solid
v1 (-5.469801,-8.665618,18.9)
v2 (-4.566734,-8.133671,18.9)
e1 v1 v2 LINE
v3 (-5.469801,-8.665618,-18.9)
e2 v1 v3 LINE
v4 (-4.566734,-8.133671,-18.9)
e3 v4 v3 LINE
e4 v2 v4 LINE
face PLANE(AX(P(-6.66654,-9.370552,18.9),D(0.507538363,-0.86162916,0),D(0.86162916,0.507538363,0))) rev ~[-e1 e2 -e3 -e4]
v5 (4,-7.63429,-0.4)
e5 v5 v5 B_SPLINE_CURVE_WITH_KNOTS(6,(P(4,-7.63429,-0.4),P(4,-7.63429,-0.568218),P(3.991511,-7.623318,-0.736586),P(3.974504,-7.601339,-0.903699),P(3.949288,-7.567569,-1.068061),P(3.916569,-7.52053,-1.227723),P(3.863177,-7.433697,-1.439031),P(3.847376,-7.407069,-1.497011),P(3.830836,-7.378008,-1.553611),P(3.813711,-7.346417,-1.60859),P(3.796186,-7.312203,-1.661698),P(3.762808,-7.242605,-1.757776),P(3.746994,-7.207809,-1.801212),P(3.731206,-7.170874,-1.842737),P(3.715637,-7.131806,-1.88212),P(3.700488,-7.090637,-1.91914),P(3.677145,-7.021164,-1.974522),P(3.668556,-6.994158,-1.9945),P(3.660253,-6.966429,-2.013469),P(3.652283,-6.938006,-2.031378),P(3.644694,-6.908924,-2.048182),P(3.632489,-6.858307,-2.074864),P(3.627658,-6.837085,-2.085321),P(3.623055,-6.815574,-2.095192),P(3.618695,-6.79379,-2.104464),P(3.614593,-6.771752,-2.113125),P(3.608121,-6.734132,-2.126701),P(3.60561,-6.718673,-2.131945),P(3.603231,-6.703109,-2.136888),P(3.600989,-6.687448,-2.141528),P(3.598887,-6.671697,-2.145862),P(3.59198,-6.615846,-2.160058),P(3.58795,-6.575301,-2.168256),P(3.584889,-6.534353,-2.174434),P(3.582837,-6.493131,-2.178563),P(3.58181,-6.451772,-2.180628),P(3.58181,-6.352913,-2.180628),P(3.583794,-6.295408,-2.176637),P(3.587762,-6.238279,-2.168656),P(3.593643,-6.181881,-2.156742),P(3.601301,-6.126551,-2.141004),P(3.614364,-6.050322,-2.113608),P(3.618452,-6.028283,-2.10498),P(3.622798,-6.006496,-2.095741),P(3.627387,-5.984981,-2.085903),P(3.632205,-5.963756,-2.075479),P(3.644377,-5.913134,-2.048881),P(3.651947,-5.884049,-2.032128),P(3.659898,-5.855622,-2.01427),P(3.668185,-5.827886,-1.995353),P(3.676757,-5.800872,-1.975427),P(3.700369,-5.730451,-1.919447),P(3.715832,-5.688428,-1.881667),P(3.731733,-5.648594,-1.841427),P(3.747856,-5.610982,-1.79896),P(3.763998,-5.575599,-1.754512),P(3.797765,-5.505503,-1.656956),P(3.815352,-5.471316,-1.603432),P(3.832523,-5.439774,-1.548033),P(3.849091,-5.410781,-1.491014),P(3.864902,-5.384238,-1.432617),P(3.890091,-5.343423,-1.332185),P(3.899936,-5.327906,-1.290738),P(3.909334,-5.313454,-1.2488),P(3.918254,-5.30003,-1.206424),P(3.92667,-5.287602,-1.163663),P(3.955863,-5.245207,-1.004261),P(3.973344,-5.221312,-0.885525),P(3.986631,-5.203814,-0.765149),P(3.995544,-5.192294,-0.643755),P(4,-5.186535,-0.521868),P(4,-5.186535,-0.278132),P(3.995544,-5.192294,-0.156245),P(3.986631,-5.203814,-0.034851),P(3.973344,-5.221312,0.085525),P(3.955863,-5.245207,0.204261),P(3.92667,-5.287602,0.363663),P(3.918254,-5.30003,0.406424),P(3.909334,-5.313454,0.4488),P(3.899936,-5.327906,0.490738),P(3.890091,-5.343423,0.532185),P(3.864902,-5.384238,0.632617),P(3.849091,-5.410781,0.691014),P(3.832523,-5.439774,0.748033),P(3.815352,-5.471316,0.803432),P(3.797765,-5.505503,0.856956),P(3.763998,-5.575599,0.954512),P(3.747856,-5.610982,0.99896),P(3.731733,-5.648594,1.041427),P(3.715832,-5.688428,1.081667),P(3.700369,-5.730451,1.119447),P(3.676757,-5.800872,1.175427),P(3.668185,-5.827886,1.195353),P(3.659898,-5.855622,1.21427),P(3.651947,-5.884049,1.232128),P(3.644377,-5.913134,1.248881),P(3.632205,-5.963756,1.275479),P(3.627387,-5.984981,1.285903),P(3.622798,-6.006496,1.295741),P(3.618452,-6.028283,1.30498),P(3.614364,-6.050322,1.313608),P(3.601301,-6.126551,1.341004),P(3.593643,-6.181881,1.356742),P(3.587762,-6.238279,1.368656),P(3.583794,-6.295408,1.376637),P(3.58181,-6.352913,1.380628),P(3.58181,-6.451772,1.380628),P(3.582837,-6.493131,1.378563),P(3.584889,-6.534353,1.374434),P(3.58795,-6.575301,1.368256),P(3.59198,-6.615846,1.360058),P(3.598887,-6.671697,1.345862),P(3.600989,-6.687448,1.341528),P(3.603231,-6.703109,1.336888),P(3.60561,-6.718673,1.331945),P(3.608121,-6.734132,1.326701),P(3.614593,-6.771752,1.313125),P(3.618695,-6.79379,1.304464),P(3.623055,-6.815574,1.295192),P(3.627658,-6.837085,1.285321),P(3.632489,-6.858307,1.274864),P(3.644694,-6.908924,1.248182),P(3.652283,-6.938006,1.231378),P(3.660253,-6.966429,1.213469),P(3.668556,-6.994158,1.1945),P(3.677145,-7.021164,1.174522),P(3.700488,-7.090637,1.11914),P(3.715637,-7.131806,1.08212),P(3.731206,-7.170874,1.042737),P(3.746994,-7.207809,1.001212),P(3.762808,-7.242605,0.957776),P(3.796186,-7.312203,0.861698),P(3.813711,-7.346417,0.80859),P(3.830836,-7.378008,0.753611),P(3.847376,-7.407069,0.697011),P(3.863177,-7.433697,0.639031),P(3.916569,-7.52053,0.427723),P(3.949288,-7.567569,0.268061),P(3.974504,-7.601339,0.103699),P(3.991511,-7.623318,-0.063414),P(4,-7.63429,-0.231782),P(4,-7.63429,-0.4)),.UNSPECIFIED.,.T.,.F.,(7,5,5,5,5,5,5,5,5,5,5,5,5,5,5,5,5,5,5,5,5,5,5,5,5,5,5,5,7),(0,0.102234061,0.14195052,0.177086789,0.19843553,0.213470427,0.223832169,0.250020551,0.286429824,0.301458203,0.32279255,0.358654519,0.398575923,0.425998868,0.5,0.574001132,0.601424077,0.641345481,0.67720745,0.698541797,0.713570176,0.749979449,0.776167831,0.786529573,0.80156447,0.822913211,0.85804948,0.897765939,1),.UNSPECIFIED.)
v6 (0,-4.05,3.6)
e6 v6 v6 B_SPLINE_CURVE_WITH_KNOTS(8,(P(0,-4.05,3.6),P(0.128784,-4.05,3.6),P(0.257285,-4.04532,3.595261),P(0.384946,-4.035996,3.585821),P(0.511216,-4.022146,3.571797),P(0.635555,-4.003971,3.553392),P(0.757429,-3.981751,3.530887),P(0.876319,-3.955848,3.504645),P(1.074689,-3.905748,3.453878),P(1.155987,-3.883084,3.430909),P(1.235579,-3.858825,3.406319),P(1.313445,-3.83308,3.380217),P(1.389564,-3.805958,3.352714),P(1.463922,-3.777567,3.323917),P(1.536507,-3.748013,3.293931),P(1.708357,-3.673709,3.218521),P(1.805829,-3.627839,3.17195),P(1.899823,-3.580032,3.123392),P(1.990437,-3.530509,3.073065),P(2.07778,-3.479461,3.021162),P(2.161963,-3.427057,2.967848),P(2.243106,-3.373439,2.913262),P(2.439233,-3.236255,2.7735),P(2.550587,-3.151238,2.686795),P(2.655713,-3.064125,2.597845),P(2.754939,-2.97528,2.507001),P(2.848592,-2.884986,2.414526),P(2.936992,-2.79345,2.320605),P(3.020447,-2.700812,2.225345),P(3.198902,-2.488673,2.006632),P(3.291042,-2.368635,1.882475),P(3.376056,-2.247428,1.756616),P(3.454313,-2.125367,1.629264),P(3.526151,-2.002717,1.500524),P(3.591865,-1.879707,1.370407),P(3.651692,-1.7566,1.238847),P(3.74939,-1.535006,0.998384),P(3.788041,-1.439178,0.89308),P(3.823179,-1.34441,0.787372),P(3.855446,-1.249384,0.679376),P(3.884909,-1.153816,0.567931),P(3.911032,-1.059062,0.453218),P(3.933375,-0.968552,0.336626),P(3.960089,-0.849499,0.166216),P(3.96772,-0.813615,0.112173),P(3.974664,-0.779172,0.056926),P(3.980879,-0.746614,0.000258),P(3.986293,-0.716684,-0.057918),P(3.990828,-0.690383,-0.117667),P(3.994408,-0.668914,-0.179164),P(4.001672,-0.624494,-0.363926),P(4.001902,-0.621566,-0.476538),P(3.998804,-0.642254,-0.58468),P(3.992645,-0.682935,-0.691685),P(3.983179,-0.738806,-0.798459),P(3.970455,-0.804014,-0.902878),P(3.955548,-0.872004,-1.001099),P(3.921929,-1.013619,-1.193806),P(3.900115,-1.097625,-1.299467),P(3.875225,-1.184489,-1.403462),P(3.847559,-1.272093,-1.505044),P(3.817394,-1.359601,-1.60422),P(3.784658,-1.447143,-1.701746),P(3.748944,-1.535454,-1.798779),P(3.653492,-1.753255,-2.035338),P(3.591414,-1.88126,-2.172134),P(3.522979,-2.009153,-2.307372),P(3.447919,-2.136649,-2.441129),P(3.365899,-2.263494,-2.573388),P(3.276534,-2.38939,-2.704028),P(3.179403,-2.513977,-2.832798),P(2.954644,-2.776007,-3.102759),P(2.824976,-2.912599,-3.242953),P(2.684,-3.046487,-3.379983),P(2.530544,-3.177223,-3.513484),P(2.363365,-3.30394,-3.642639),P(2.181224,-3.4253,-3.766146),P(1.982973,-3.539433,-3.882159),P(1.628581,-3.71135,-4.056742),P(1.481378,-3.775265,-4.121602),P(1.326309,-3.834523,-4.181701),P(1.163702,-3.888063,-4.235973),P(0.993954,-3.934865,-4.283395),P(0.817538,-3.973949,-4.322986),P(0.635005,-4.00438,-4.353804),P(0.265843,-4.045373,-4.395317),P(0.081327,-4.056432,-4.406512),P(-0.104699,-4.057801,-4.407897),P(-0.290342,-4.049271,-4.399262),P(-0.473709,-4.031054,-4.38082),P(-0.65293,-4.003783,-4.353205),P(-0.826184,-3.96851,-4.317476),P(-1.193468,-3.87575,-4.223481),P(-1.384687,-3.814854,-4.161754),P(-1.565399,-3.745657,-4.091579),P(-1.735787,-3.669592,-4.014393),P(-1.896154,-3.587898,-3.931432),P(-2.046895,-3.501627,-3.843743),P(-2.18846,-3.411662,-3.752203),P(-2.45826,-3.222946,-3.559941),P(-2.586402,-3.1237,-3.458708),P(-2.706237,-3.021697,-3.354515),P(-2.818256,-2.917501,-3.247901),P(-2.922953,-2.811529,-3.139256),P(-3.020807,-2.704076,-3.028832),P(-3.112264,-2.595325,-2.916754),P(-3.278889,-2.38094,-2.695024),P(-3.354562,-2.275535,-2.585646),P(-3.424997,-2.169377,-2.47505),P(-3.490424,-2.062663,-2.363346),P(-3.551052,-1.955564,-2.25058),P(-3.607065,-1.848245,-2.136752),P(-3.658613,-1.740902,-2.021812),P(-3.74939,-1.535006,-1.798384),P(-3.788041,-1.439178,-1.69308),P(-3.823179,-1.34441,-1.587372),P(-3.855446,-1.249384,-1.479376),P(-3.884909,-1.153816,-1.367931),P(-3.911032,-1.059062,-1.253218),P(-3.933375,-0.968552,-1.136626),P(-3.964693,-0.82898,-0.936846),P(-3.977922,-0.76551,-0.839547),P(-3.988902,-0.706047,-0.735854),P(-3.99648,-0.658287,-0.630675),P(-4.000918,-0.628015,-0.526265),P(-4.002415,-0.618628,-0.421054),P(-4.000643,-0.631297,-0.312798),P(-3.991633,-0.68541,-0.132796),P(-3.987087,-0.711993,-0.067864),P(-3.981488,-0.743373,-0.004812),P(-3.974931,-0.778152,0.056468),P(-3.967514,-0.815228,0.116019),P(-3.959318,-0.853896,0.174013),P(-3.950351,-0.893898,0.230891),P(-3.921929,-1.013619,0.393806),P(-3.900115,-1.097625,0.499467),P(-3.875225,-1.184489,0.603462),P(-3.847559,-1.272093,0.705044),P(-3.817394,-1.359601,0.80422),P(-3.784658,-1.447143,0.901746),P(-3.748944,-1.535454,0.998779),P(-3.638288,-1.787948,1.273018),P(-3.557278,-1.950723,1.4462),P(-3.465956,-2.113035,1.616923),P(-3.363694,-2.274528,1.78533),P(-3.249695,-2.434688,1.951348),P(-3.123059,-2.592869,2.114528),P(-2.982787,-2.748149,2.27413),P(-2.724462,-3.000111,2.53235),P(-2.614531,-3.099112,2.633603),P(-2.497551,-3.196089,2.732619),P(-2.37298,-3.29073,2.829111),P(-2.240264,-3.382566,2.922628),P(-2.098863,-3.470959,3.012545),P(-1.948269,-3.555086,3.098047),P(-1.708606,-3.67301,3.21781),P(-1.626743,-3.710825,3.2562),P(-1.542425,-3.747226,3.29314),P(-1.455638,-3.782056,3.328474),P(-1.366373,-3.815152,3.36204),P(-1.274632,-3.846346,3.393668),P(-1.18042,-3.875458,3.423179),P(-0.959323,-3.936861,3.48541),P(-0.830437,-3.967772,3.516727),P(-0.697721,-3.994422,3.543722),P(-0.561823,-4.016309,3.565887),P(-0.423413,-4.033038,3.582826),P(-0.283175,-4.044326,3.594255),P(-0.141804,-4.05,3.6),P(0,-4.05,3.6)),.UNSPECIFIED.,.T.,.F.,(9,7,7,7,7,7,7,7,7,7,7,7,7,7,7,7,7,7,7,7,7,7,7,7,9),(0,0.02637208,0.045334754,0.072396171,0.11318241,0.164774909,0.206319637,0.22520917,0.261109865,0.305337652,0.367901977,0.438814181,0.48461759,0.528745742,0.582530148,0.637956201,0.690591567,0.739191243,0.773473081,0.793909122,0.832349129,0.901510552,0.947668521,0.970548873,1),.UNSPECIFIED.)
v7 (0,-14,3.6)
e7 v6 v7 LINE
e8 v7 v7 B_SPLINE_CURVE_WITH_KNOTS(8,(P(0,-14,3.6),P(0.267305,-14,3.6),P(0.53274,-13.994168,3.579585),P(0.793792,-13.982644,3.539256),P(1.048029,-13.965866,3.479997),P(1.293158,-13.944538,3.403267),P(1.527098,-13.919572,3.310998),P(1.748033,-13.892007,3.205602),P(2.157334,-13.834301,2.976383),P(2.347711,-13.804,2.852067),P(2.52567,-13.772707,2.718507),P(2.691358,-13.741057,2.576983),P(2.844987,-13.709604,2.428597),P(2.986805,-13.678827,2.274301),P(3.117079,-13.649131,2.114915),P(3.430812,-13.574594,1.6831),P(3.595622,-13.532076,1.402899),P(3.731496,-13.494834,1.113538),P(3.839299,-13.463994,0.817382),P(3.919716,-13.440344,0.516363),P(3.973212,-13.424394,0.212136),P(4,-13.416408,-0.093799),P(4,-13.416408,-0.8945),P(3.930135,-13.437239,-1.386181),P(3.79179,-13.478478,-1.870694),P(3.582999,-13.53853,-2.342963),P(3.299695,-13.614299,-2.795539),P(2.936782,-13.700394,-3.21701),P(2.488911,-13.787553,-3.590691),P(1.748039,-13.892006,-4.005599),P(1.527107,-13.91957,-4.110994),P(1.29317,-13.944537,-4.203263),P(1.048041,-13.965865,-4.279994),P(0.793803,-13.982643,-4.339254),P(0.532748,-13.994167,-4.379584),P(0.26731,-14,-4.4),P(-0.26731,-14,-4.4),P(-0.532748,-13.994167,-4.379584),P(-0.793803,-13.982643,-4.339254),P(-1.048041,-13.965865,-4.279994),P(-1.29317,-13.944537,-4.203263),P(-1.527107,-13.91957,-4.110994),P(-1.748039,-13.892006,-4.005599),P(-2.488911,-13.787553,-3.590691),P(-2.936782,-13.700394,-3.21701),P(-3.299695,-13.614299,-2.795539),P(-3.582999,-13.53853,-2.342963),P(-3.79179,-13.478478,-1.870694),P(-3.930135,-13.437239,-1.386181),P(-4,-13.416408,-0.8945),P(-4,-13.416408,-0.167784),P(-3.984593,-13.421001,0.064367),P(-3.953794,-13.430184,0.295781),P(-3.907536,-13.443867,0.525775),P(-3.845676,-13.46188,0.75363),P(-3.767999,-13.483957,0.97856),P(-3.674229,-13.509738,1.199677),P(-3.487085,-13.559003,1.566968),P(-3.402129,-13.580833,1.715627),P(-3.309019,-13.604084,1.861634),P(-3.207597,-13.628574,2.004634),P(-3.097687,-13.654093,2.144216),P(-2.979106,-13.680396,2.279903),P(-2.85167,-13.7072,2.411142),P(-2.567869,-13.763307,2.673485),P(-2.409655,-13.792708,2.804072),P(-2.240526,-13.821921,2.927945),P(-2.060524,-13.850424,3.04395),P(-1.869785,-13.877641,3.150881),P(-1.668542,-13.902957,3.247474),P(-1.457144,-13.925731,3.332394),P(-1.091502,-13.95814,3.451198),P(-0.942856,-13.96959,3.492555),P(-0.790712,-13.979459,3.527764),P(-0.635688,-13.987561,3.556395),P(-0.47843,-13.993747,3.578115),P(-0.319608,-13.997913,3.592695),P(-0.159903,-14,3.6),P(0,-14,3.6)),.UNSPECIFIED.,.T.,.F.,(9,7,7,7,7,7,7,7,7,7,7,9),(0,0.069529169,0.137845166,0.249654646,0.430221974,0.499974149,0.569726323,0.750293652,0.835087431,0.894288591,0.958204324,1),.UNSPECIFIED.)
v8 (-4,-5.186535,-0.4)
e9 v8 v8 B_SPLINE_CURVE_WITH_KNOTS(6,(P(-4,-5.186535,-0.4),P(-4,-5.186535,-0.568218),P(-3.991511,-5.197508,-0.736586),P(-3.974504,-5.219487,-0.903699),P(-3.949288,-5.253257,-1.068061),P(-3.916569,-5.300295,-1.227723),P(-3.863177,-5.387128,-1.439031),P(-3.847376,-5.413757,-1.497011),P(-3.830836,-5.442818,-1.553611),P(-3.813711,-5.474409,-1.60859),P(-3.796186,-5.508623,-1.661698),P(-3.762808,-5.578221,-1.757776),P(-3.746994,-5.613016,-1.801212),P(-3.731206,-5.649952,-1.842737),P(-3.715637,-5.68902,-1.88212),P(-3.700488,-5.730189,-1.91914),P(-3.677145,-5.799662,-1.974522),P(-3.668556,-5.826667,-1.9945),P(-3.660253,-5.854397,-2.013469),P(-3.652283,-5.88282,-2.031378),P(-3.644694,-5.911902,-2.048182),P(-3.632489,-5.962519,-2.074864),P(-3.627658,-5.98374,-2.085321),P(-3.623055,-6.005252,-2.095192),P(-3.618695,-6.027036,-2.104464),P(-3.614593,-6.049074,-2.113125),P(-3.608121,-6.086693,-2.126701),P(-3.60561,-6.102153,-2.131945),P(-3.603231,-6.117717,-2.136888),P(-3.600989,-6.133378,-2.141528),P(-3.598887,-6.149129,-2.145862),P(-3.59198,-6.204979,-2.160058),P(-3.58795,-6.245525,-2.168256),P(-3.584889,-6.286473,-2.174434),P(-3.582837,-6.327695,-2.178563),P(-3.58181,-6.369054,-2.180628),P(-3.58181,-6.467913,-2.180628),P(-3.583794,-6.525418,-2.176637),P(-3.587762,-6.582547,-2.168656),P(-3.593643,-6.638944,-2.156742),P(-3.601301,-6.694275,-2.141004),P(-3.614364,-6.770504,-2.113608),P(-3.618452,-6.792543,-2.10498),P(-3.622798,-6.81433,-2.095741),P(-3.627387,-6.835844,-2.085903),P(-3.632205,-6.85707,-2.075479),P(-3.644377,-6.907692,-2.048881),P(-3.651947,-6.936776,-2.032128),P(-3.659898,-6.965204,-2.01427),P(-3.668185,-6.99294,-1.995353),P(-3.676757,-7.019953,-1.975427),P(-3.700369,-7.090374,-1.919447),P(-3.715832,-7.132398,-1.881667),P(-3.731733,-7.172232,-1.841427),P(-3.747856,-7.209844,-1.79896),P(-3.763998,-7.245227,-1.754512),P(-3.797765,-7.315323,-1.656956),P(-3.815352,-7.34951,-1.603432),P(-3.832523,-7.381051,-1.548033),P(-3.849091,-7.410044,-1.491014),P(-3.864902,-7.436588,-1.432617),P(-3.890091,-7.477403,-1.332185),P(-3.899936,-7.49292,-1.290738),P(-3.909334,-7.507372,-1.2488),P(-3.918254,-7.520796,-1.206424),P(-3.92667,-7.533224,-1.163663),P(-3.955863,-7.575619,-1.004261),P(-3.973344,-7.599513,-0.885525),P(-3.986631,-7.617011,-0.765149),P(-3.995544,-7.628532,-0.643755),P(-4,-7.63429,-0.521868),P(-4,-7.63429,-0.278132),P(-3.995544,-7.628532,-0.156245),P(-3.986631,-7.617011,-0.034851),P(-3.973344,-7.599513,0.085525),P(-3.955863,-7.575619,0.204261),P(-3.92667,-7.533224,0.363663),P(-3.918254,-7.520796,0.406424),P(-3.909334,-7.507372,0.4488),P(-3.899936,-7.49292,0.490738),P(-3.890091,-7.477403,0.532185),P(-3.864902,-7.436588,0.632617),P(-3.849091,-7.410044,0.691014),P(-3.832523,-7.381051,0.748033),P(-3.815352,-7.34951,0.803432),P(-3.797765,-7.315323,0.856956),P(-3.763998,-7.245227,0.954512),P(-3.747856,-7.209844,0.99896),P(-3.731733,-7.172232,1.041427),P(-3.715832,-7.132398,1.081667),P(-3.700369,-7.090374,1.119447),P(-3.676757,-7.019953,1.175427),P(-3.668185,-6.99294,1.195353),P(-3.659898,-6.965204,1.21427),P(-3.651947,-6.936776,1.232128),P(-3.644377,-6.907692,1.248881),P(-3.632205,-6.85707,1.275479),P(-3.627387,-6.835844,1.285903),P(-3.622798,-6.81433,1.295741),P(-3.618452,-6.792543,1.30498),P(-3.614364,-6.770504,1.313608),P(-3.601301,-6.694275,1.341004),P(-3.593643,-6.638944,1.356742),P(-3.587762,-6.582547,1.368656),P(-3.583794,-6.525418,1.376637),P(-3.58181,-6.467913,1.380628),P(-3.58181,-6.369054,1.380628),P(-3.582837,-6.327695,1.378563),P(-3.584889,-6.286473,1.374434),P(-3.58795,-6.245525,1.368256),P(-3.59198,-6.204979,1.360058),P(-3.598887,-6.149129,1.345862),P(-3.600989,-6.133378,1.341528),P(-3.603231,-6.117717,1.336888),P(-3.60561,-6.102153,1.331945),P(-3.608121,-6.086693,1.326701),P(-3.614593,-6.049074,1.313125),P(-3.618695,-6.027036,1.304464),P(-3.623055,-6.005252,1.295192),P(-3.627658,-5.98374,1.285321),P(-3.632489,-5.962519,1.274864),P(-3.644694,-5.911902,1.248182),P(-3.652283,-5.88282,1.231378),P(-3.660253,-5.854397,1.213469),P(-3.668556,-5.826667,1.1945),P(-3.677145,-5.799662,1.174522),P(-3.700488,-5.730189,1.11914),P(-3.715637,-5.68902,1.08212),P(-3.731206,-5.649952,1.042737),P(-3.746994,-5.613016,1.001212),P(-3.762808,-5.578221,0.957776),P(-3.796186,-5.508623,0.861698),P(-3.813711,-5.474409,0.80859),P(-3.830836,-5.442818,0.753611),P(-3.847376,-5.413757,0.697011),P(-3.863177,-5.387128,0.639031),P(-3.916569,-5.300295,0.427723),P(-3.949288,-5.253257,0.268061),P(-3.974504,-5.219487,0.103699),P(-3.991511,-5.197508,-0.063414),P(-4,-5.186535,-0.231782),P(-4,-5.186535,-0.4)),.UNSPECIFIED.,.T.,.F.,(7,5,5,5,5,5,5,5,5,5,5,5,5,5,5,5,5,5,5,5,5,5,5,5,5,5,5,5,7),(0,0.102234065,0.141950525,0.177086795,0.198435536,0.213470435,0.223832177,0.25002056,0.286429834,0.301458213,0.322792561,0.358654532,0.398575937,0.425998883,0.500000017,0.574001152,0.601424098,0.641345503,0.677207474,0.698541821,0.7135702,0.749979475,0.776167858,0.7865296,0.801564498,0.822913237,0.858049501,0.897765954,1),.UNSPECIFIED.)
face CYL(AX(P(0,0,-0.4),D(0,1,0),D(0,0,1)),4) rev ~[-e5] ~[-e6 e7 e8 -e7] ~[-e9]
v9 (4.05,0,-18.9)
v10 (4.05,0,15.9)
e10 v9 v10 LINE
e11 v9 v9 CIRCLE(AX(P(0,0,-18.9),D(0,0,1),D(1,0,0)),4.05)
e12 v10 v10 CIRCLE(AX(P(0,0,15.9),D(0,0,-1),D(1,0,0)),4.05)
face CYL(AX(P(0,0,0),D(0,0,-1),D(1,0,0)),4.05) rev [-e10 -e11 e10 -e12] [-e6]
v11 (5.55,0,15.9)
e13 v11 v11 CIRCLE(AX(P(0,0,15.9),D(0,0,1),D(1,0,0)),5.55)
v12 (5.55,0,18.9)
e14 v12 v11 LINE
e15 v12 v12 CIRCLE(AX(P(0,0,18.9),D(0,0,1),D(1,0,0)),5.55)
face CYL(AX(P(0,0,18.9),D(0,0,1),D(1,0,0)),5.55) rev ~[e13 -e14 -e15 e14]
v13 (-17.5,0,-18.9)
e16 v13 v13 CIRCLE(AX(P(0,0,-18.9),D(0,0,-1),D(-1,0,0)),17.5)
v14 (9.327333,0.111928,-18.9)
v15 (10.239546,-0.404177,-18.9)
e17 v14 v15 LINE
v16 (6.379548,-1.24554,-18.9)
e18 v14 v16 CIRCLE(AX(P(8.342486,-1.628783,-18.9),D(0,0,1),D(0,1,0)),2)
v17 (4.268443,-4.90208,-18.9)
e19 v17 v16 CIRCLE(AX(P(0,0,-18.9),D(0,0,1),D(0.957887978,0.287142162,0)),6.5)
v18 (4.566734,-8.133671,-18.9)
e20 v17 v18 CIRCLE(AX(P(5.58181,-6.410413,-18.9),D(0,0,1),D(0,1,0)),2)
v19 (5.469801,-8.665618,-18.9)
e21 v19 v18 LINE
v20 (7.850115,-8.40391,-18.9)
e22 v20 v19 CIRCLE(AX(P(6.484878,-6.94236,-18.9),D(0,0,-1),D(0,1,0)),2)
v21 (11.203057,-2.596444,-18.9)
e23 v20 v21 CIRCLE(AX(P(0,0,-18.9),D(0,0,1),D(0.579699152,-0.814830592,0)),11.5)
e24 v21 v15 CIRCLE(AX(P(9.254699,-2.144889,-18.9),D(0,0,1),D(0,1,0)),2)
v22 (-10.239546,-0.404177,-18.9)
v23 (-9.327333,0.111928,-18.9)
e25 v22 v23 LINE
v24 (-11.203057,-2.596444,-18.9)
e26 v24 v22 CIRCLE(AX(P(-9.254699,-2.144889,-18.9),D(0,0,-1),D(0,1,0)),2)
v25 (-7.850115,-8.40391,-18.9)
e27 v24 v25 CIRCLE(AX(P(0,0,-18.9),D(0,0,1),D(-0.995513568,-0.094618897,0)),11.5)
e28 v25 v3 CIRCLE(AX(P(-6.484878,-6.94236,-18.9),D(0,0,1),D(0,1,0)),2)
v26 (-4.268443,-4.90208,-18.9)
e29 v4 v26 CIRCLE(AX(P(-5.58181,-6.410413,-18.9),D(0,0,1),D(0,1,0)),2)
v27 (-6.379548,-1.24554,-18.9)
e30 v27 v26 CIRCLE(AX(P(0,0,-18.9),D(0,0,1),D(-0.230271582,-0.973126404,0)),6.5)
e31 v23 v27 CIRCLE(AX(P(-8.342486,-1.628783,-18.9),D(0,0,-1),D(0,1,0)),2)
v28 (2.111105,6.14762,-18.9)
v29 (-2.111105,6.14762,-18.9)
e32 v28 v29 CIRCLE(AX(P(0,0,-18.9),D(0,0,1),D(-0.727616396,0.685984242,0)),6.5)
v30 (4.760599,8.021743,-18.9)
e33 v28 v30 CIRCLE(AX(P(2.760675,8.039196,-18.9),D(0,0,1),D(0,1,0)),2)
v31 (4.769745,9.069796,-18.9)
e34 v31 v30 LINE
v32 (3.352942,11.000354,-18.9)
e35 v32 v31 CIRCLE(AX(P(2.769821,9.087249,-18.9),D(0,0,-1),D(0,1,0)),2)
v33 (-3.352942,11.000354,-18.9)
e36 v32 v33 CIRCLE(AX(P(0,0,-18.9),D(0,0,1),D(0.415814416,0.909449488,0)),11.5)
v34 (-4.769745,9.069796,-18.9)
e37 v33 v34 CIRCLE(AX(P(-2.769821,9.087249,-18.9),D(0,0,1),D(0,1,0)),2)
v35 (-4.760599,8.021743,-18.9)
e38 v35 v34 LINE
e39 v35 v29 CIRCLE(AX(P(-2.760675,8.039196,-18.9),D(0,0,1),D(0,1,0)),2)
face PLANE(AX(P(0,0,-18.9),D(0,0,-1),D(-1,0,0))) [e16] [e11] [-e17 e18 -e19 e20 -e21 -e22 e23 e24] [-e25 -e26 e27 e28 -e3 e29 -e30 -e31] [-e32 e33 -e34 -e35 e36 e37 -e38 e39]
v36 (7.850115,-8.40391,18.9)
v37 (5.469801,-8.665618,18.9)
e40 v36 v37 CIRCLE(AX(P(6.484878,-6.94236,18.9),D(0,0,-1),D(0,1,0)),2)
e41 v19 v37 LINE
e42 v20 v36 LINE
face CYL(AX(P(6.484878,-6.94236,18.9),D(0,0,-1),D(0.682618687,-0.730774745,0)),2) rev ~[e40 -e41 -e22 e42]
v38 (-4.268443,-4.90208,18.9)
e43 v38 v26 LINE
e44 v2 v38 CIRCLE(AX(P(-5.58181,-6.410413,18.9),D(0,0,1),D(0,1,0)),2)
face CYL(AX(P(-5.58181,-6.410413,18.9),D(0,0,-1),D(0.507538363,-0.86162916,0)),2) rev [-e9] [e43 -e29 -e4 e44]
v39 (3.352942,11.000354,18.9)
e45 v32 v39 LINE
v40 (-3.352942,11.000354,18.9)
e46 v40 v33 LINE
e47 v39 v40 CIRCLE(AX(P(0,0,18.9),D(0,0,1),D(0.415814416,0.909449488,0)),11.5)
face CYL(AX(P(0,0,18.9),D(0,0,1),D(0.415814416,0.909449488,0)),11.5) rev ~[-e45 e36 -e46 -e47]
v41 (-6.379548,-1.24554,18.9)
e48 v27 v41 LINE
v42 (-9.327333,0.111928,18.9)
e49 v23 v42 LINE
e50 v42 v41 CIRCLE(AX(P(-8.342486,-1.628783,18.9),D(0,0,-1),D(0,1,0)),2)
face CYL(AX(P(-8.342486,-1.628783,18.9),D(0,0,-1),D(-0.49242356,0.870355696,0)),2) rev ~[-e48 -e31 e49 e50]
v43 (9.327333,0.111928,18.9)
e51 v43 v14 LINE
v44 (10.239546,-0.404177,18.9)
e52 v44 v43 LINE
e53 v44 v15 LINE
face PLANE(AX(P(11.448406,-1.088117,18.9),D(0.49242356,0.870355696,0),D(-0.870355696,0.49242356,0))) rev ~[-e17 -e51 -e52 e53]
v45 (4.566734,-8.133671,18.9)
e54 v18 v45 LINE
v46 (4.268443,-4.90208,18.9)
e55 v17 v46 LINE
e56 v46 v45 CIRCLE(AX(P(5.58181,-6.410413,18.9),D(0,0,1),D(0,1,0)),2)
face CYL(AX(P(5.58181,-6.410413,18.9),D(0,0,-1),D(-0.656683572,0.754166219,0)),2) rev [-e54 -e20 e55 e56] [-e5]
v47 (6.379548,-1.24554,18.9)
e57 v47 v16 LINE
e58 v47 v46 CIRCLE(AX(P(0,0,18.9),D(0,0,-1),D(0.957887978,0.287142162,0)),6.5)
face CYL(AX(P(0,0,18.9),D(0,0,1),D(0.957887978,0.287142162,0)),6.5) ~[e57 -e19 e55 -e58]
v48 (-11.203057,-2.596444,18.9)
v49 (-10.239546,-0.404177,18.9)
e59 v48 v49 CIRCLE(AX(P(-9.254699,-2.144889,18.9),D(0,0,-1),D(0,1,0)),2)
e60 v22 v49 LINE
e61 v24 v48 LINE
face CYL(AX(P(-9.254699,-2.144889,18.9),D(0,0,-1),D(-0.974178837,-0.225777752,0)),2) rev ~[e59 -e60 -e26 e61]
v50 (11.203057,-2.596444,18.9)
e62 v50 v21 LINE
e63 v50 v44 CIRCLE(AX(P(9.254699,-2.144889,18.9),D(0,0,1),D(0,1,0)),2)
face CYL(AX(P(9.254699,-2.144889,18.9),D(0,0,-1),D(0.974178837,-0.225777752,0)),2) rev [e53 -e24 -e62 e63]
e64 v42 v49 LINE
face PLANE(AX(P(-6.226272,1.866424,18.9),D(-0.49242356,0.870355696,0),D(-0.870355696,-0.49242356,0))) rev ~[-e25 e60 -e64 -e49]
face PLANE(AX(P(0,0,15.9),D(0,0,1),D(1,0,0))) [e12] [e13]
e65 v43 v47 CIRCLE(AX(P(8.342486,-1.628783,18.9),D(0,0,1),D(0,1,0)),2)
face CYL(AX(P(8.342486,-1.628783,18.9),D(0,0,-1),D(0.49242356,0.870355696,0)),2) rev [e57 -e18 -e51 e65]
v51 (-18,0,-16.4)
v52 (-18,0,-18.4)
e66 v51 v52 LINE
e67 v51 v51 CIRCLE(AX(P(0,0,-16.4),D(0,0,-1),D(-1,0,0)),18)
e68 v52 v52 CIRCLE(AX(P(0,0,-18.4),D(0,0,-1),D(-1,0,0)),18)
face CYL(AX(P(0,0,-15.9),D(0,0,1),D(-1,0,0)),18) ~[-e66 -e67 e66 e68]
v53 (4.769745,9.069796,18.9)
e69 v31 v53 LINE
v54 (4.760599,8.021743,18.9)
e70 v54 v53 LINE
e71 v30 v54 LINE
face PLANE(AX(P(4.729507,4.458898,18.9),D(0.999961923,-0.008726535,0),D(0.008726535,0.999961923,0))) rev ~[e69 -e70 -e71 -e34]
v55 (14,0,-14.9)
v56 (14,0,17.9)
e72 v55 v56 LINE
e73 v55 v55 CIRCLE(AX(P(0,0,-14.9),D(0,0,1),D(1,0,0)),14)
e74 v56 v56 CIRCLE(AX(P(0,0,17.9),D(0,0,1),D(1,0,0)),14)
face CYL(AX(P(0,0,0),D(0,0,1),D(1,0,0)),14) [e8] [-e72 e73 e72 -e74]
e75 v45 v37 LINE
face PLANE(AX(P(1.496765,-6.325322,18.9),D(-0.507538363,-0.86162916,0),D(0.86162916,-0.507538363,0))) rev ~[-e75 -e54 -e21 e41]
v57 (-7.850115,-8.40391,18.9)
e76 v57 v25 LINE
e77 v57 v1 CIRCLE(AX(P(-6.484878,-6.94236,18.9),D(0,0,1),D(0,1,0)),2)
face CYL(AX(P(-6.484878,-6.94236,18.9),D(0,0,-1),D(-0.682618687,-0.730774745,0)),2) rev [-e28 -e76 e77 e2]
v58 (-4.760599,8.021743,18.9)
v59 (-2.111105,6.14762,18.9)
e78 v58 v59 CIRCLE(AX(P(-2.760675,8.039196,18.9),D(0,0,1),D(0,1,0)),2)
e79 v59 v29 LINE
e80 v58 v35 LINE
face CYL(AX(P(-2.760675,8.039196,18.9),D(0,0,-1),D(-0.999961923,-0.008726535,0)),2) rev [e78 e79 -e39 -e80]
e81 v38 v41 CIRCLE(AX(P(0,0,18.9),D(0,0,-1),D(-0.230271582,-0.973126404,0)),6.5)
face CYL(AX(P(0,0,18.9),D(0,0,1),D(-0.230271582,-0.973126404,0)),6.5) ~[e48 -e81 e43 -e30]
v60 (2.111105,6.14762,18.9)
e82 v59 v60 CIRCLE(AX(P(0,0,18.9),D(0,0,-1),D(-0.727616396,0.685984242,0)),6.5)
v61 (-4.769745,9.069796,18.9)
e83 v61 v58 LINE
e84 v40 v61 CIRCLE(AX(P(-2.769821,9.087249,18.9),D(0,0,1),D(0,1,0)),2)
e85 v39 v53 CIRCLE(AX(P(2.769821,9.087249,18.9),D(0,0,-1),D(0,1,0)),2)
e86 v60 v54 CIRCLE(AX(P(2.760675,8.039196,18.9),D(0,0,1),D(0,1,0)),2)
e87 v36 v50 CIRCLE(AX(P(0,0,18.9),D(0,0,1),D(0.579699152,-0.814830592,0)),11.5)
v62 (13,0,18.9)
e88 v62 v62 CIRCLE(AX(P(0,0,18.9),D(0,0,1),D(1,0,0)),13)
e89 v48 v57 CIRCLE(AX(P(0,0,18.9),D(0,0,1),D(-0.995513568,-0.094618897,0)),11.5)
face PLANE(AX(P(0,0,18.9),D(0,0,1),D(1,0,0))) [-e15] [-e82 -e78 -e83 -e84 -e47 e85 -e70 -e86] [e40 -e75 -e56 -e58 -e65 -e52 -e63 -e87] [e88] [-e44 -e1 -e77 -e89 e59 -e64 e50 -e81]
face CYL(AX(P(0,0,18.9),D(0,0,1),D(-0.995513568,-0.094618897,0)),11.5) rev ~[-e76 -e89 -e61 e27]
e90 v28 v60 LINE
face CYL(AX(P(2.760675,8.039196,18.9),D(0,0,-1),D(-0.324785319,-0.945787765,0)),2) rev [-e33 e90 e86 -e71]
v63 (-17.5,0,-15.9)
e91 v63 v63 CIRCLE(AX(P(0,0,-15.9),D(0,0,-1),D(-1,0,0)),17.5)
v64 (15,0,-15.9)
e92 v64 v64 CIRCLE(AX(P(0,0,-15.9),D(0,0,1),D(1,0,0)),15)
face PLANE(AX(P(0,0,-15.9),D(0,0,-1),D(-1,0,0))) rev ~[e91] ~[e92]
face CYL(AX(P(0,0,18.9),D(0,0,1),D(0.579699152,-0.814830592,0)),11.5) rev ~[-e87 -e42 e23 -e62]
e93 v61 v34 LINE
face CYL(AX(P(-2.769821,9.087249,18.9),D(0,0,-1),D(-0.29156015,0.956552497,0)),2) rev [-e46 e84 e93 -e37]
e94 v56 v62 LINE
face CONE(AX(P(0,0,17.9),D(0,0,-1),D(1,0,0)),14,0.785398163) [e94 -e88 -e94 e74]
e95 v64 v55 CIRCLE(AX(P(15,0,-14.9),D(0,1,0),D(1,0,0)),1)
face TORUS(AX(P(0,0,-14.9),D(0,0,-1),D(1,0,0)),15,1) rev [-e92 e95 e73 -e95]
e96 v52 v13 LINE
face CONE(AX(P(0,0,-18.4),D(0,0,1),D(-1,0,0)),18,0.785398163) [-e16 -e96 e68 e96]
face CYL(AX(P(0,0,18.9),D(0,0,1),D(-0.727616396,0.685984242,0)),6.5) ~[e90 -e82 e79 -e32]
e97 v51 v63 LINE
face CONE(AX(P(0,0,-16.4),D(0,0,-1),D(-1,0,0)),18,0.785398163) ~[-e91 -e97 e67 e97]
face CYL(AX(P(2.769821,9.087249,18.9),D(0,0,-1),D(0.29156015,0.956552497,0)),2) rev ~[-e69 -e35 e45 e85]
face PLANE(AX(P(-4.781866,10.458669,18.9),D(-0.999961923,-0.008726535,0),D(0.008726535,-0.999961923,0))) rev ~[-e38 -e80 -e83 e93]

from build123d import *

# Parameters (mm, degrees)
CROQUIS1_R              = 14
CROQUIS1_R_2            = 4.05
SALIENTE_EXTRUIR1_DEPTH = 18.9
CHAFL_N1_SIZE           = 1
CORTAR_EXTRUIR1_REACH   = 44.671
REDONDEO1_R             = 2
MATRIZC1_COUNT          = 3
REDONDEO1_OF_MATRIZC1_R = 2
CROQUIS3_R              = 4
CORTAR_EXTRUIR2_DEPTH   = 29
SALIENTE_EXTRUIR2_START = -3
CROQUIS6_R              = 18
CROQUIS6_R_2            = 4.05
SALIENTE_EXTRUIR2_DEPTH = 3
CHAFL_N2_SIZE           = 0.5
REDONDEO2_R             = 1
CROQUIS12_R             = 5.55
CORTAR_EXTRUIR4_DEPTH   = 3


with BuildPart() as part:
    # Croquis1 → Saliente-Extruir1 (new, symmetric)
    with BuildSketch(Plane(origin=(0, 0, 0), x_dir=(0, 1, 0), z_dir=(0, 0, 1))):
        with Locations(Location((0, 0, 0), (0, 0, 270))):
            Circle(CROQUIS1_R)
        with Locations(Location((0, 0, 0), (0, 0, 270))):
            Circle(CROQUIS1_R_2, mode=Mode.SUBTRACT)
    extrude(amount=SALIENTE_EXTRUIR1_DEPTH, both=True)

    # Chaflán1
    chafl_n1_edges = [part.edges().sort_by_distance(p)[0] for p in [
        (-14, 0, 18.9),
    ]]
    chamfer(chafl_n1_edges, length=CHAFL_N1_SIZE)

    # Croquis2 → Cortar-Extruir1 (cut, up to next)
    with BuildSketch(Plane.XY.offset(18.9), mode=Mode.PRIVATE) as cortar_extruir1_sk1:
        with BuildLine():
            Line((4.729506573, 4.458897574), (4.781865786, 10.458669113))
            ThreePointArc((4.781865786, 10.458669113), (0, 11.5), (-4.781865786, 10.458669113))
            Line((-4.781865786, 10.458669113), (-4.729506573, 4.458897574))
            ThreePointArc((-4.729506573, 4.458897574), (0, 6.5), (4.729506573, 4.458897574))
        make_face()
    cortar_extruir1_tool1 = extrude(cortar_extruir1_sk1.sketch, amount=-CORTAR_EXTRUIR1_REACH, mode=Mode.PRIVATE) & part.part
    cortar_extruir1 = cortar_extruir1_tool1.solids().sort_by_distance((0, 8.49359, 18.9))[0]
    add(cortar_extruir1, mode=Mode.SUBTRACT)

    # Redondeo1
    redondeo1_edges = [part.edges().sort_by_distance(p)[0] for p in [
        (4.729506573, 4.458897574, 0),
        (-4.729506573, 4.458897574, 0),
        (-4.781865786, 10.458669113, 0),
        (4.781865786, 10.458669113, 0),
    ]]
    fillet(redondeo1_edges, radius=REDONDEO1_R)

    # MatrizC1: Cortar-Extruir1 ×3 about axis
    matrizc1_axis = Axis((0, 0, 0), (0, 0, 1))
    for i in range(1, MATRIZC1_COUNT):
        add(cortar_extruir1.rotate(matrizc1_axis, i * 360 / MATRIZC1_COUNT), mode=Mode.SUBTRACT)

    # Redondeo1 of MatrizC1
    redondeo1_of_matrizc1_edges = [part.edges().sort_by_distance(p)[0] for p in [
        (-6.226271859, 1.866424052, 0),
        (-1.496765286, -6.325321627, 0),
        (-6.666540248, -9.370551804, 0),
        (-11.448406034, -1.088117308, 0),
        (1.496765286, -6.325321627, 0),
        (6.226271859, 1.866424052, 0),
        (11.448406034, -1.088117308, 0),
        (6.666540248, -9.370551804, 0),
    ]]
    fillet(redondeo1_of_matrizc1_edges, radius=REDONDEO1_OF_MATRIZC1_R)

    # Croquis3 → Cortar-Extruir2 (cut)
    with BuildSketch(Plane(origin=(0, 0, 0), x_dir=(-1, 0, 0), z_dir=(0, 1, 0))):
        with Locations(Location((0, -0.4, 0), (0, 0, 90))):
            Circle(CROQUIS3_R)
    extrude(amount=-CORTAR_EXTRUIR2_DEPTH, mode=Mode.SUBTRACT)

    # Croquis6 → Saliente-Extruir2 (add)
    with BuildSketch(Plane(origin=(0, 0, -18.9), x_dir=(1, 0, 0), z_dir=(0, 0, -1)).offset(SALIENTE_EXTRUIR2_START)):
        with Locations(Location((0, 0, 0), (0, 0, 180))):
            Circle(CROQUIS6_R)
        Circle(CROQUIS6_R_2, mode=Mode.SUBTRACT)
        with BuildLine():
            Line((-10.239546073, 0.40417725), (-9.32733269, -0.111928251))
            ThreePointArc((-9.32733269, -0.111928251), (-7.50591795, -0.187849628), (-6.379547789, 1.245540049))
            ThreePointArc((-6.379547789, 1.245540049), (-5.629165125, 3.25), (-4.268443218, 4.902080425))
            ThreePointArc((-4.268443218, 4.902080425), (-3.590276425, 6.594240438), (-4.566733636, 8.133671184))
            Line((-4.566733636, 8.133671184), (-5.469800803, 8.665618398))
            ThreePointArc((-5.469800803, 8.665618398), (-6.703454741, 8.930380198), (-7.850114903, 8.403909567))
            ThreePointArc((-7.850114903, 8.403909567), (-9.959292144, 5.75), (-11.203056628, 2.596444145))
            ThreePointArc((-11.203056628, 2.596444145), (-11.085663488, 1.340172), (-10.239546073, 0.40417725))
        make_face(mode=Mode.SUBTRACT)
        with BuildLine():
            Line((5.469800803, 8.665618398), (4.566733636, 8.133671184))
            ThreePointArc((4.566733636, 8.133671184), (3.590276425, 6.594240438), (4.268443218, 4.902080425))
            ThreePointArc((4.268443218, 4.902080425), (5.629165125, 3.25), (6.379547789, 1.245540049))
            ThreePointArc((6.379547789, 1.245540049), (7.50591795, -0.187849628), (9.32733269, -0.111928251))
            Line((9.32733269, -0.111928251), (10.239546073, 0.40417725))
            ThreePointArc((10.239546073, 0.40417725), (11.085663488, 1.340172), (11.203056628, 2.596444145))
            ThreePointArc((11.203056628, 2.596444145), (9.959292144, 5.75), (7.850114903, 8.403909567))
            ThreePointArc((7.850114903, 8.403909567), (6.703454741, 8.930380198), (5.469800803, 8.665618398))
        make_face(mode=Mode.SUBTRACT)
        with BuildLine():
            Line((-4.760599053, -8.021742934), (-4.769745271, -9.069795648))
            ThreePointArc((-4.769745271, -9.069795648), (-4.382208746, -10.270552198), (-3.352941725, -11.000353712))
            ThreePointArc((-3.352941725, -11.000353712), (0, -11.5), (3.352941725, -11.000353712))
            ThreePointArc((3.352941725, -11.000353712), (4.382208746, -10.270552198), (4.769745271, -9.069795648))
            Line((4.769745271, -9.069795648), (4.760599053, -8.021742934))
            ThreePointArc((4.760599053, -8.021742934), (3.915641525, -6.40639081), (2.11110457, -6.147620474))
            ThreePointArc((2.11110457, -6.147620474), (0, -6.5), (-2.11110457, -6.147620474))
            ThreePointArc((-2.11110457, -6.147620474), (-3.915641525, -6.40639081), (-4.760599053, -8.021742934))
        make_face(mode=Mode.SUBTRACT)
    extrude(amount=SALIENTE_EXTRUIR2_DEPTH)

    # Chaflán2
    chafl_n2_edges = [part.edges().sort_by_distance(p)[0] for p in [
        (18, 0, -18.9),
        (18, 0, -15.9),
    ]]
    chamfer(chafl_n2_edges, length=CHAFL_N2_SIZE)

    # Redondeo2
    redondeo2_edges = [part.edges().sort_by_distance(p)[0] for p in [
        (-14, 0, -15.9),
    ]]
    fillet(redondeo2_edges, radius=REDONDEO2_R)

    # Croquis12 → Cortar-Extruir4 (cut)
    with BuildSketch(Plane.XY.offset(18.9)):
        Circle(CROQUIS12_R)
    extrude(amount=-CORTAR_EXTRUIR4_DEPTH, mode=Mode.SUBTRACT)


solid = part.part
